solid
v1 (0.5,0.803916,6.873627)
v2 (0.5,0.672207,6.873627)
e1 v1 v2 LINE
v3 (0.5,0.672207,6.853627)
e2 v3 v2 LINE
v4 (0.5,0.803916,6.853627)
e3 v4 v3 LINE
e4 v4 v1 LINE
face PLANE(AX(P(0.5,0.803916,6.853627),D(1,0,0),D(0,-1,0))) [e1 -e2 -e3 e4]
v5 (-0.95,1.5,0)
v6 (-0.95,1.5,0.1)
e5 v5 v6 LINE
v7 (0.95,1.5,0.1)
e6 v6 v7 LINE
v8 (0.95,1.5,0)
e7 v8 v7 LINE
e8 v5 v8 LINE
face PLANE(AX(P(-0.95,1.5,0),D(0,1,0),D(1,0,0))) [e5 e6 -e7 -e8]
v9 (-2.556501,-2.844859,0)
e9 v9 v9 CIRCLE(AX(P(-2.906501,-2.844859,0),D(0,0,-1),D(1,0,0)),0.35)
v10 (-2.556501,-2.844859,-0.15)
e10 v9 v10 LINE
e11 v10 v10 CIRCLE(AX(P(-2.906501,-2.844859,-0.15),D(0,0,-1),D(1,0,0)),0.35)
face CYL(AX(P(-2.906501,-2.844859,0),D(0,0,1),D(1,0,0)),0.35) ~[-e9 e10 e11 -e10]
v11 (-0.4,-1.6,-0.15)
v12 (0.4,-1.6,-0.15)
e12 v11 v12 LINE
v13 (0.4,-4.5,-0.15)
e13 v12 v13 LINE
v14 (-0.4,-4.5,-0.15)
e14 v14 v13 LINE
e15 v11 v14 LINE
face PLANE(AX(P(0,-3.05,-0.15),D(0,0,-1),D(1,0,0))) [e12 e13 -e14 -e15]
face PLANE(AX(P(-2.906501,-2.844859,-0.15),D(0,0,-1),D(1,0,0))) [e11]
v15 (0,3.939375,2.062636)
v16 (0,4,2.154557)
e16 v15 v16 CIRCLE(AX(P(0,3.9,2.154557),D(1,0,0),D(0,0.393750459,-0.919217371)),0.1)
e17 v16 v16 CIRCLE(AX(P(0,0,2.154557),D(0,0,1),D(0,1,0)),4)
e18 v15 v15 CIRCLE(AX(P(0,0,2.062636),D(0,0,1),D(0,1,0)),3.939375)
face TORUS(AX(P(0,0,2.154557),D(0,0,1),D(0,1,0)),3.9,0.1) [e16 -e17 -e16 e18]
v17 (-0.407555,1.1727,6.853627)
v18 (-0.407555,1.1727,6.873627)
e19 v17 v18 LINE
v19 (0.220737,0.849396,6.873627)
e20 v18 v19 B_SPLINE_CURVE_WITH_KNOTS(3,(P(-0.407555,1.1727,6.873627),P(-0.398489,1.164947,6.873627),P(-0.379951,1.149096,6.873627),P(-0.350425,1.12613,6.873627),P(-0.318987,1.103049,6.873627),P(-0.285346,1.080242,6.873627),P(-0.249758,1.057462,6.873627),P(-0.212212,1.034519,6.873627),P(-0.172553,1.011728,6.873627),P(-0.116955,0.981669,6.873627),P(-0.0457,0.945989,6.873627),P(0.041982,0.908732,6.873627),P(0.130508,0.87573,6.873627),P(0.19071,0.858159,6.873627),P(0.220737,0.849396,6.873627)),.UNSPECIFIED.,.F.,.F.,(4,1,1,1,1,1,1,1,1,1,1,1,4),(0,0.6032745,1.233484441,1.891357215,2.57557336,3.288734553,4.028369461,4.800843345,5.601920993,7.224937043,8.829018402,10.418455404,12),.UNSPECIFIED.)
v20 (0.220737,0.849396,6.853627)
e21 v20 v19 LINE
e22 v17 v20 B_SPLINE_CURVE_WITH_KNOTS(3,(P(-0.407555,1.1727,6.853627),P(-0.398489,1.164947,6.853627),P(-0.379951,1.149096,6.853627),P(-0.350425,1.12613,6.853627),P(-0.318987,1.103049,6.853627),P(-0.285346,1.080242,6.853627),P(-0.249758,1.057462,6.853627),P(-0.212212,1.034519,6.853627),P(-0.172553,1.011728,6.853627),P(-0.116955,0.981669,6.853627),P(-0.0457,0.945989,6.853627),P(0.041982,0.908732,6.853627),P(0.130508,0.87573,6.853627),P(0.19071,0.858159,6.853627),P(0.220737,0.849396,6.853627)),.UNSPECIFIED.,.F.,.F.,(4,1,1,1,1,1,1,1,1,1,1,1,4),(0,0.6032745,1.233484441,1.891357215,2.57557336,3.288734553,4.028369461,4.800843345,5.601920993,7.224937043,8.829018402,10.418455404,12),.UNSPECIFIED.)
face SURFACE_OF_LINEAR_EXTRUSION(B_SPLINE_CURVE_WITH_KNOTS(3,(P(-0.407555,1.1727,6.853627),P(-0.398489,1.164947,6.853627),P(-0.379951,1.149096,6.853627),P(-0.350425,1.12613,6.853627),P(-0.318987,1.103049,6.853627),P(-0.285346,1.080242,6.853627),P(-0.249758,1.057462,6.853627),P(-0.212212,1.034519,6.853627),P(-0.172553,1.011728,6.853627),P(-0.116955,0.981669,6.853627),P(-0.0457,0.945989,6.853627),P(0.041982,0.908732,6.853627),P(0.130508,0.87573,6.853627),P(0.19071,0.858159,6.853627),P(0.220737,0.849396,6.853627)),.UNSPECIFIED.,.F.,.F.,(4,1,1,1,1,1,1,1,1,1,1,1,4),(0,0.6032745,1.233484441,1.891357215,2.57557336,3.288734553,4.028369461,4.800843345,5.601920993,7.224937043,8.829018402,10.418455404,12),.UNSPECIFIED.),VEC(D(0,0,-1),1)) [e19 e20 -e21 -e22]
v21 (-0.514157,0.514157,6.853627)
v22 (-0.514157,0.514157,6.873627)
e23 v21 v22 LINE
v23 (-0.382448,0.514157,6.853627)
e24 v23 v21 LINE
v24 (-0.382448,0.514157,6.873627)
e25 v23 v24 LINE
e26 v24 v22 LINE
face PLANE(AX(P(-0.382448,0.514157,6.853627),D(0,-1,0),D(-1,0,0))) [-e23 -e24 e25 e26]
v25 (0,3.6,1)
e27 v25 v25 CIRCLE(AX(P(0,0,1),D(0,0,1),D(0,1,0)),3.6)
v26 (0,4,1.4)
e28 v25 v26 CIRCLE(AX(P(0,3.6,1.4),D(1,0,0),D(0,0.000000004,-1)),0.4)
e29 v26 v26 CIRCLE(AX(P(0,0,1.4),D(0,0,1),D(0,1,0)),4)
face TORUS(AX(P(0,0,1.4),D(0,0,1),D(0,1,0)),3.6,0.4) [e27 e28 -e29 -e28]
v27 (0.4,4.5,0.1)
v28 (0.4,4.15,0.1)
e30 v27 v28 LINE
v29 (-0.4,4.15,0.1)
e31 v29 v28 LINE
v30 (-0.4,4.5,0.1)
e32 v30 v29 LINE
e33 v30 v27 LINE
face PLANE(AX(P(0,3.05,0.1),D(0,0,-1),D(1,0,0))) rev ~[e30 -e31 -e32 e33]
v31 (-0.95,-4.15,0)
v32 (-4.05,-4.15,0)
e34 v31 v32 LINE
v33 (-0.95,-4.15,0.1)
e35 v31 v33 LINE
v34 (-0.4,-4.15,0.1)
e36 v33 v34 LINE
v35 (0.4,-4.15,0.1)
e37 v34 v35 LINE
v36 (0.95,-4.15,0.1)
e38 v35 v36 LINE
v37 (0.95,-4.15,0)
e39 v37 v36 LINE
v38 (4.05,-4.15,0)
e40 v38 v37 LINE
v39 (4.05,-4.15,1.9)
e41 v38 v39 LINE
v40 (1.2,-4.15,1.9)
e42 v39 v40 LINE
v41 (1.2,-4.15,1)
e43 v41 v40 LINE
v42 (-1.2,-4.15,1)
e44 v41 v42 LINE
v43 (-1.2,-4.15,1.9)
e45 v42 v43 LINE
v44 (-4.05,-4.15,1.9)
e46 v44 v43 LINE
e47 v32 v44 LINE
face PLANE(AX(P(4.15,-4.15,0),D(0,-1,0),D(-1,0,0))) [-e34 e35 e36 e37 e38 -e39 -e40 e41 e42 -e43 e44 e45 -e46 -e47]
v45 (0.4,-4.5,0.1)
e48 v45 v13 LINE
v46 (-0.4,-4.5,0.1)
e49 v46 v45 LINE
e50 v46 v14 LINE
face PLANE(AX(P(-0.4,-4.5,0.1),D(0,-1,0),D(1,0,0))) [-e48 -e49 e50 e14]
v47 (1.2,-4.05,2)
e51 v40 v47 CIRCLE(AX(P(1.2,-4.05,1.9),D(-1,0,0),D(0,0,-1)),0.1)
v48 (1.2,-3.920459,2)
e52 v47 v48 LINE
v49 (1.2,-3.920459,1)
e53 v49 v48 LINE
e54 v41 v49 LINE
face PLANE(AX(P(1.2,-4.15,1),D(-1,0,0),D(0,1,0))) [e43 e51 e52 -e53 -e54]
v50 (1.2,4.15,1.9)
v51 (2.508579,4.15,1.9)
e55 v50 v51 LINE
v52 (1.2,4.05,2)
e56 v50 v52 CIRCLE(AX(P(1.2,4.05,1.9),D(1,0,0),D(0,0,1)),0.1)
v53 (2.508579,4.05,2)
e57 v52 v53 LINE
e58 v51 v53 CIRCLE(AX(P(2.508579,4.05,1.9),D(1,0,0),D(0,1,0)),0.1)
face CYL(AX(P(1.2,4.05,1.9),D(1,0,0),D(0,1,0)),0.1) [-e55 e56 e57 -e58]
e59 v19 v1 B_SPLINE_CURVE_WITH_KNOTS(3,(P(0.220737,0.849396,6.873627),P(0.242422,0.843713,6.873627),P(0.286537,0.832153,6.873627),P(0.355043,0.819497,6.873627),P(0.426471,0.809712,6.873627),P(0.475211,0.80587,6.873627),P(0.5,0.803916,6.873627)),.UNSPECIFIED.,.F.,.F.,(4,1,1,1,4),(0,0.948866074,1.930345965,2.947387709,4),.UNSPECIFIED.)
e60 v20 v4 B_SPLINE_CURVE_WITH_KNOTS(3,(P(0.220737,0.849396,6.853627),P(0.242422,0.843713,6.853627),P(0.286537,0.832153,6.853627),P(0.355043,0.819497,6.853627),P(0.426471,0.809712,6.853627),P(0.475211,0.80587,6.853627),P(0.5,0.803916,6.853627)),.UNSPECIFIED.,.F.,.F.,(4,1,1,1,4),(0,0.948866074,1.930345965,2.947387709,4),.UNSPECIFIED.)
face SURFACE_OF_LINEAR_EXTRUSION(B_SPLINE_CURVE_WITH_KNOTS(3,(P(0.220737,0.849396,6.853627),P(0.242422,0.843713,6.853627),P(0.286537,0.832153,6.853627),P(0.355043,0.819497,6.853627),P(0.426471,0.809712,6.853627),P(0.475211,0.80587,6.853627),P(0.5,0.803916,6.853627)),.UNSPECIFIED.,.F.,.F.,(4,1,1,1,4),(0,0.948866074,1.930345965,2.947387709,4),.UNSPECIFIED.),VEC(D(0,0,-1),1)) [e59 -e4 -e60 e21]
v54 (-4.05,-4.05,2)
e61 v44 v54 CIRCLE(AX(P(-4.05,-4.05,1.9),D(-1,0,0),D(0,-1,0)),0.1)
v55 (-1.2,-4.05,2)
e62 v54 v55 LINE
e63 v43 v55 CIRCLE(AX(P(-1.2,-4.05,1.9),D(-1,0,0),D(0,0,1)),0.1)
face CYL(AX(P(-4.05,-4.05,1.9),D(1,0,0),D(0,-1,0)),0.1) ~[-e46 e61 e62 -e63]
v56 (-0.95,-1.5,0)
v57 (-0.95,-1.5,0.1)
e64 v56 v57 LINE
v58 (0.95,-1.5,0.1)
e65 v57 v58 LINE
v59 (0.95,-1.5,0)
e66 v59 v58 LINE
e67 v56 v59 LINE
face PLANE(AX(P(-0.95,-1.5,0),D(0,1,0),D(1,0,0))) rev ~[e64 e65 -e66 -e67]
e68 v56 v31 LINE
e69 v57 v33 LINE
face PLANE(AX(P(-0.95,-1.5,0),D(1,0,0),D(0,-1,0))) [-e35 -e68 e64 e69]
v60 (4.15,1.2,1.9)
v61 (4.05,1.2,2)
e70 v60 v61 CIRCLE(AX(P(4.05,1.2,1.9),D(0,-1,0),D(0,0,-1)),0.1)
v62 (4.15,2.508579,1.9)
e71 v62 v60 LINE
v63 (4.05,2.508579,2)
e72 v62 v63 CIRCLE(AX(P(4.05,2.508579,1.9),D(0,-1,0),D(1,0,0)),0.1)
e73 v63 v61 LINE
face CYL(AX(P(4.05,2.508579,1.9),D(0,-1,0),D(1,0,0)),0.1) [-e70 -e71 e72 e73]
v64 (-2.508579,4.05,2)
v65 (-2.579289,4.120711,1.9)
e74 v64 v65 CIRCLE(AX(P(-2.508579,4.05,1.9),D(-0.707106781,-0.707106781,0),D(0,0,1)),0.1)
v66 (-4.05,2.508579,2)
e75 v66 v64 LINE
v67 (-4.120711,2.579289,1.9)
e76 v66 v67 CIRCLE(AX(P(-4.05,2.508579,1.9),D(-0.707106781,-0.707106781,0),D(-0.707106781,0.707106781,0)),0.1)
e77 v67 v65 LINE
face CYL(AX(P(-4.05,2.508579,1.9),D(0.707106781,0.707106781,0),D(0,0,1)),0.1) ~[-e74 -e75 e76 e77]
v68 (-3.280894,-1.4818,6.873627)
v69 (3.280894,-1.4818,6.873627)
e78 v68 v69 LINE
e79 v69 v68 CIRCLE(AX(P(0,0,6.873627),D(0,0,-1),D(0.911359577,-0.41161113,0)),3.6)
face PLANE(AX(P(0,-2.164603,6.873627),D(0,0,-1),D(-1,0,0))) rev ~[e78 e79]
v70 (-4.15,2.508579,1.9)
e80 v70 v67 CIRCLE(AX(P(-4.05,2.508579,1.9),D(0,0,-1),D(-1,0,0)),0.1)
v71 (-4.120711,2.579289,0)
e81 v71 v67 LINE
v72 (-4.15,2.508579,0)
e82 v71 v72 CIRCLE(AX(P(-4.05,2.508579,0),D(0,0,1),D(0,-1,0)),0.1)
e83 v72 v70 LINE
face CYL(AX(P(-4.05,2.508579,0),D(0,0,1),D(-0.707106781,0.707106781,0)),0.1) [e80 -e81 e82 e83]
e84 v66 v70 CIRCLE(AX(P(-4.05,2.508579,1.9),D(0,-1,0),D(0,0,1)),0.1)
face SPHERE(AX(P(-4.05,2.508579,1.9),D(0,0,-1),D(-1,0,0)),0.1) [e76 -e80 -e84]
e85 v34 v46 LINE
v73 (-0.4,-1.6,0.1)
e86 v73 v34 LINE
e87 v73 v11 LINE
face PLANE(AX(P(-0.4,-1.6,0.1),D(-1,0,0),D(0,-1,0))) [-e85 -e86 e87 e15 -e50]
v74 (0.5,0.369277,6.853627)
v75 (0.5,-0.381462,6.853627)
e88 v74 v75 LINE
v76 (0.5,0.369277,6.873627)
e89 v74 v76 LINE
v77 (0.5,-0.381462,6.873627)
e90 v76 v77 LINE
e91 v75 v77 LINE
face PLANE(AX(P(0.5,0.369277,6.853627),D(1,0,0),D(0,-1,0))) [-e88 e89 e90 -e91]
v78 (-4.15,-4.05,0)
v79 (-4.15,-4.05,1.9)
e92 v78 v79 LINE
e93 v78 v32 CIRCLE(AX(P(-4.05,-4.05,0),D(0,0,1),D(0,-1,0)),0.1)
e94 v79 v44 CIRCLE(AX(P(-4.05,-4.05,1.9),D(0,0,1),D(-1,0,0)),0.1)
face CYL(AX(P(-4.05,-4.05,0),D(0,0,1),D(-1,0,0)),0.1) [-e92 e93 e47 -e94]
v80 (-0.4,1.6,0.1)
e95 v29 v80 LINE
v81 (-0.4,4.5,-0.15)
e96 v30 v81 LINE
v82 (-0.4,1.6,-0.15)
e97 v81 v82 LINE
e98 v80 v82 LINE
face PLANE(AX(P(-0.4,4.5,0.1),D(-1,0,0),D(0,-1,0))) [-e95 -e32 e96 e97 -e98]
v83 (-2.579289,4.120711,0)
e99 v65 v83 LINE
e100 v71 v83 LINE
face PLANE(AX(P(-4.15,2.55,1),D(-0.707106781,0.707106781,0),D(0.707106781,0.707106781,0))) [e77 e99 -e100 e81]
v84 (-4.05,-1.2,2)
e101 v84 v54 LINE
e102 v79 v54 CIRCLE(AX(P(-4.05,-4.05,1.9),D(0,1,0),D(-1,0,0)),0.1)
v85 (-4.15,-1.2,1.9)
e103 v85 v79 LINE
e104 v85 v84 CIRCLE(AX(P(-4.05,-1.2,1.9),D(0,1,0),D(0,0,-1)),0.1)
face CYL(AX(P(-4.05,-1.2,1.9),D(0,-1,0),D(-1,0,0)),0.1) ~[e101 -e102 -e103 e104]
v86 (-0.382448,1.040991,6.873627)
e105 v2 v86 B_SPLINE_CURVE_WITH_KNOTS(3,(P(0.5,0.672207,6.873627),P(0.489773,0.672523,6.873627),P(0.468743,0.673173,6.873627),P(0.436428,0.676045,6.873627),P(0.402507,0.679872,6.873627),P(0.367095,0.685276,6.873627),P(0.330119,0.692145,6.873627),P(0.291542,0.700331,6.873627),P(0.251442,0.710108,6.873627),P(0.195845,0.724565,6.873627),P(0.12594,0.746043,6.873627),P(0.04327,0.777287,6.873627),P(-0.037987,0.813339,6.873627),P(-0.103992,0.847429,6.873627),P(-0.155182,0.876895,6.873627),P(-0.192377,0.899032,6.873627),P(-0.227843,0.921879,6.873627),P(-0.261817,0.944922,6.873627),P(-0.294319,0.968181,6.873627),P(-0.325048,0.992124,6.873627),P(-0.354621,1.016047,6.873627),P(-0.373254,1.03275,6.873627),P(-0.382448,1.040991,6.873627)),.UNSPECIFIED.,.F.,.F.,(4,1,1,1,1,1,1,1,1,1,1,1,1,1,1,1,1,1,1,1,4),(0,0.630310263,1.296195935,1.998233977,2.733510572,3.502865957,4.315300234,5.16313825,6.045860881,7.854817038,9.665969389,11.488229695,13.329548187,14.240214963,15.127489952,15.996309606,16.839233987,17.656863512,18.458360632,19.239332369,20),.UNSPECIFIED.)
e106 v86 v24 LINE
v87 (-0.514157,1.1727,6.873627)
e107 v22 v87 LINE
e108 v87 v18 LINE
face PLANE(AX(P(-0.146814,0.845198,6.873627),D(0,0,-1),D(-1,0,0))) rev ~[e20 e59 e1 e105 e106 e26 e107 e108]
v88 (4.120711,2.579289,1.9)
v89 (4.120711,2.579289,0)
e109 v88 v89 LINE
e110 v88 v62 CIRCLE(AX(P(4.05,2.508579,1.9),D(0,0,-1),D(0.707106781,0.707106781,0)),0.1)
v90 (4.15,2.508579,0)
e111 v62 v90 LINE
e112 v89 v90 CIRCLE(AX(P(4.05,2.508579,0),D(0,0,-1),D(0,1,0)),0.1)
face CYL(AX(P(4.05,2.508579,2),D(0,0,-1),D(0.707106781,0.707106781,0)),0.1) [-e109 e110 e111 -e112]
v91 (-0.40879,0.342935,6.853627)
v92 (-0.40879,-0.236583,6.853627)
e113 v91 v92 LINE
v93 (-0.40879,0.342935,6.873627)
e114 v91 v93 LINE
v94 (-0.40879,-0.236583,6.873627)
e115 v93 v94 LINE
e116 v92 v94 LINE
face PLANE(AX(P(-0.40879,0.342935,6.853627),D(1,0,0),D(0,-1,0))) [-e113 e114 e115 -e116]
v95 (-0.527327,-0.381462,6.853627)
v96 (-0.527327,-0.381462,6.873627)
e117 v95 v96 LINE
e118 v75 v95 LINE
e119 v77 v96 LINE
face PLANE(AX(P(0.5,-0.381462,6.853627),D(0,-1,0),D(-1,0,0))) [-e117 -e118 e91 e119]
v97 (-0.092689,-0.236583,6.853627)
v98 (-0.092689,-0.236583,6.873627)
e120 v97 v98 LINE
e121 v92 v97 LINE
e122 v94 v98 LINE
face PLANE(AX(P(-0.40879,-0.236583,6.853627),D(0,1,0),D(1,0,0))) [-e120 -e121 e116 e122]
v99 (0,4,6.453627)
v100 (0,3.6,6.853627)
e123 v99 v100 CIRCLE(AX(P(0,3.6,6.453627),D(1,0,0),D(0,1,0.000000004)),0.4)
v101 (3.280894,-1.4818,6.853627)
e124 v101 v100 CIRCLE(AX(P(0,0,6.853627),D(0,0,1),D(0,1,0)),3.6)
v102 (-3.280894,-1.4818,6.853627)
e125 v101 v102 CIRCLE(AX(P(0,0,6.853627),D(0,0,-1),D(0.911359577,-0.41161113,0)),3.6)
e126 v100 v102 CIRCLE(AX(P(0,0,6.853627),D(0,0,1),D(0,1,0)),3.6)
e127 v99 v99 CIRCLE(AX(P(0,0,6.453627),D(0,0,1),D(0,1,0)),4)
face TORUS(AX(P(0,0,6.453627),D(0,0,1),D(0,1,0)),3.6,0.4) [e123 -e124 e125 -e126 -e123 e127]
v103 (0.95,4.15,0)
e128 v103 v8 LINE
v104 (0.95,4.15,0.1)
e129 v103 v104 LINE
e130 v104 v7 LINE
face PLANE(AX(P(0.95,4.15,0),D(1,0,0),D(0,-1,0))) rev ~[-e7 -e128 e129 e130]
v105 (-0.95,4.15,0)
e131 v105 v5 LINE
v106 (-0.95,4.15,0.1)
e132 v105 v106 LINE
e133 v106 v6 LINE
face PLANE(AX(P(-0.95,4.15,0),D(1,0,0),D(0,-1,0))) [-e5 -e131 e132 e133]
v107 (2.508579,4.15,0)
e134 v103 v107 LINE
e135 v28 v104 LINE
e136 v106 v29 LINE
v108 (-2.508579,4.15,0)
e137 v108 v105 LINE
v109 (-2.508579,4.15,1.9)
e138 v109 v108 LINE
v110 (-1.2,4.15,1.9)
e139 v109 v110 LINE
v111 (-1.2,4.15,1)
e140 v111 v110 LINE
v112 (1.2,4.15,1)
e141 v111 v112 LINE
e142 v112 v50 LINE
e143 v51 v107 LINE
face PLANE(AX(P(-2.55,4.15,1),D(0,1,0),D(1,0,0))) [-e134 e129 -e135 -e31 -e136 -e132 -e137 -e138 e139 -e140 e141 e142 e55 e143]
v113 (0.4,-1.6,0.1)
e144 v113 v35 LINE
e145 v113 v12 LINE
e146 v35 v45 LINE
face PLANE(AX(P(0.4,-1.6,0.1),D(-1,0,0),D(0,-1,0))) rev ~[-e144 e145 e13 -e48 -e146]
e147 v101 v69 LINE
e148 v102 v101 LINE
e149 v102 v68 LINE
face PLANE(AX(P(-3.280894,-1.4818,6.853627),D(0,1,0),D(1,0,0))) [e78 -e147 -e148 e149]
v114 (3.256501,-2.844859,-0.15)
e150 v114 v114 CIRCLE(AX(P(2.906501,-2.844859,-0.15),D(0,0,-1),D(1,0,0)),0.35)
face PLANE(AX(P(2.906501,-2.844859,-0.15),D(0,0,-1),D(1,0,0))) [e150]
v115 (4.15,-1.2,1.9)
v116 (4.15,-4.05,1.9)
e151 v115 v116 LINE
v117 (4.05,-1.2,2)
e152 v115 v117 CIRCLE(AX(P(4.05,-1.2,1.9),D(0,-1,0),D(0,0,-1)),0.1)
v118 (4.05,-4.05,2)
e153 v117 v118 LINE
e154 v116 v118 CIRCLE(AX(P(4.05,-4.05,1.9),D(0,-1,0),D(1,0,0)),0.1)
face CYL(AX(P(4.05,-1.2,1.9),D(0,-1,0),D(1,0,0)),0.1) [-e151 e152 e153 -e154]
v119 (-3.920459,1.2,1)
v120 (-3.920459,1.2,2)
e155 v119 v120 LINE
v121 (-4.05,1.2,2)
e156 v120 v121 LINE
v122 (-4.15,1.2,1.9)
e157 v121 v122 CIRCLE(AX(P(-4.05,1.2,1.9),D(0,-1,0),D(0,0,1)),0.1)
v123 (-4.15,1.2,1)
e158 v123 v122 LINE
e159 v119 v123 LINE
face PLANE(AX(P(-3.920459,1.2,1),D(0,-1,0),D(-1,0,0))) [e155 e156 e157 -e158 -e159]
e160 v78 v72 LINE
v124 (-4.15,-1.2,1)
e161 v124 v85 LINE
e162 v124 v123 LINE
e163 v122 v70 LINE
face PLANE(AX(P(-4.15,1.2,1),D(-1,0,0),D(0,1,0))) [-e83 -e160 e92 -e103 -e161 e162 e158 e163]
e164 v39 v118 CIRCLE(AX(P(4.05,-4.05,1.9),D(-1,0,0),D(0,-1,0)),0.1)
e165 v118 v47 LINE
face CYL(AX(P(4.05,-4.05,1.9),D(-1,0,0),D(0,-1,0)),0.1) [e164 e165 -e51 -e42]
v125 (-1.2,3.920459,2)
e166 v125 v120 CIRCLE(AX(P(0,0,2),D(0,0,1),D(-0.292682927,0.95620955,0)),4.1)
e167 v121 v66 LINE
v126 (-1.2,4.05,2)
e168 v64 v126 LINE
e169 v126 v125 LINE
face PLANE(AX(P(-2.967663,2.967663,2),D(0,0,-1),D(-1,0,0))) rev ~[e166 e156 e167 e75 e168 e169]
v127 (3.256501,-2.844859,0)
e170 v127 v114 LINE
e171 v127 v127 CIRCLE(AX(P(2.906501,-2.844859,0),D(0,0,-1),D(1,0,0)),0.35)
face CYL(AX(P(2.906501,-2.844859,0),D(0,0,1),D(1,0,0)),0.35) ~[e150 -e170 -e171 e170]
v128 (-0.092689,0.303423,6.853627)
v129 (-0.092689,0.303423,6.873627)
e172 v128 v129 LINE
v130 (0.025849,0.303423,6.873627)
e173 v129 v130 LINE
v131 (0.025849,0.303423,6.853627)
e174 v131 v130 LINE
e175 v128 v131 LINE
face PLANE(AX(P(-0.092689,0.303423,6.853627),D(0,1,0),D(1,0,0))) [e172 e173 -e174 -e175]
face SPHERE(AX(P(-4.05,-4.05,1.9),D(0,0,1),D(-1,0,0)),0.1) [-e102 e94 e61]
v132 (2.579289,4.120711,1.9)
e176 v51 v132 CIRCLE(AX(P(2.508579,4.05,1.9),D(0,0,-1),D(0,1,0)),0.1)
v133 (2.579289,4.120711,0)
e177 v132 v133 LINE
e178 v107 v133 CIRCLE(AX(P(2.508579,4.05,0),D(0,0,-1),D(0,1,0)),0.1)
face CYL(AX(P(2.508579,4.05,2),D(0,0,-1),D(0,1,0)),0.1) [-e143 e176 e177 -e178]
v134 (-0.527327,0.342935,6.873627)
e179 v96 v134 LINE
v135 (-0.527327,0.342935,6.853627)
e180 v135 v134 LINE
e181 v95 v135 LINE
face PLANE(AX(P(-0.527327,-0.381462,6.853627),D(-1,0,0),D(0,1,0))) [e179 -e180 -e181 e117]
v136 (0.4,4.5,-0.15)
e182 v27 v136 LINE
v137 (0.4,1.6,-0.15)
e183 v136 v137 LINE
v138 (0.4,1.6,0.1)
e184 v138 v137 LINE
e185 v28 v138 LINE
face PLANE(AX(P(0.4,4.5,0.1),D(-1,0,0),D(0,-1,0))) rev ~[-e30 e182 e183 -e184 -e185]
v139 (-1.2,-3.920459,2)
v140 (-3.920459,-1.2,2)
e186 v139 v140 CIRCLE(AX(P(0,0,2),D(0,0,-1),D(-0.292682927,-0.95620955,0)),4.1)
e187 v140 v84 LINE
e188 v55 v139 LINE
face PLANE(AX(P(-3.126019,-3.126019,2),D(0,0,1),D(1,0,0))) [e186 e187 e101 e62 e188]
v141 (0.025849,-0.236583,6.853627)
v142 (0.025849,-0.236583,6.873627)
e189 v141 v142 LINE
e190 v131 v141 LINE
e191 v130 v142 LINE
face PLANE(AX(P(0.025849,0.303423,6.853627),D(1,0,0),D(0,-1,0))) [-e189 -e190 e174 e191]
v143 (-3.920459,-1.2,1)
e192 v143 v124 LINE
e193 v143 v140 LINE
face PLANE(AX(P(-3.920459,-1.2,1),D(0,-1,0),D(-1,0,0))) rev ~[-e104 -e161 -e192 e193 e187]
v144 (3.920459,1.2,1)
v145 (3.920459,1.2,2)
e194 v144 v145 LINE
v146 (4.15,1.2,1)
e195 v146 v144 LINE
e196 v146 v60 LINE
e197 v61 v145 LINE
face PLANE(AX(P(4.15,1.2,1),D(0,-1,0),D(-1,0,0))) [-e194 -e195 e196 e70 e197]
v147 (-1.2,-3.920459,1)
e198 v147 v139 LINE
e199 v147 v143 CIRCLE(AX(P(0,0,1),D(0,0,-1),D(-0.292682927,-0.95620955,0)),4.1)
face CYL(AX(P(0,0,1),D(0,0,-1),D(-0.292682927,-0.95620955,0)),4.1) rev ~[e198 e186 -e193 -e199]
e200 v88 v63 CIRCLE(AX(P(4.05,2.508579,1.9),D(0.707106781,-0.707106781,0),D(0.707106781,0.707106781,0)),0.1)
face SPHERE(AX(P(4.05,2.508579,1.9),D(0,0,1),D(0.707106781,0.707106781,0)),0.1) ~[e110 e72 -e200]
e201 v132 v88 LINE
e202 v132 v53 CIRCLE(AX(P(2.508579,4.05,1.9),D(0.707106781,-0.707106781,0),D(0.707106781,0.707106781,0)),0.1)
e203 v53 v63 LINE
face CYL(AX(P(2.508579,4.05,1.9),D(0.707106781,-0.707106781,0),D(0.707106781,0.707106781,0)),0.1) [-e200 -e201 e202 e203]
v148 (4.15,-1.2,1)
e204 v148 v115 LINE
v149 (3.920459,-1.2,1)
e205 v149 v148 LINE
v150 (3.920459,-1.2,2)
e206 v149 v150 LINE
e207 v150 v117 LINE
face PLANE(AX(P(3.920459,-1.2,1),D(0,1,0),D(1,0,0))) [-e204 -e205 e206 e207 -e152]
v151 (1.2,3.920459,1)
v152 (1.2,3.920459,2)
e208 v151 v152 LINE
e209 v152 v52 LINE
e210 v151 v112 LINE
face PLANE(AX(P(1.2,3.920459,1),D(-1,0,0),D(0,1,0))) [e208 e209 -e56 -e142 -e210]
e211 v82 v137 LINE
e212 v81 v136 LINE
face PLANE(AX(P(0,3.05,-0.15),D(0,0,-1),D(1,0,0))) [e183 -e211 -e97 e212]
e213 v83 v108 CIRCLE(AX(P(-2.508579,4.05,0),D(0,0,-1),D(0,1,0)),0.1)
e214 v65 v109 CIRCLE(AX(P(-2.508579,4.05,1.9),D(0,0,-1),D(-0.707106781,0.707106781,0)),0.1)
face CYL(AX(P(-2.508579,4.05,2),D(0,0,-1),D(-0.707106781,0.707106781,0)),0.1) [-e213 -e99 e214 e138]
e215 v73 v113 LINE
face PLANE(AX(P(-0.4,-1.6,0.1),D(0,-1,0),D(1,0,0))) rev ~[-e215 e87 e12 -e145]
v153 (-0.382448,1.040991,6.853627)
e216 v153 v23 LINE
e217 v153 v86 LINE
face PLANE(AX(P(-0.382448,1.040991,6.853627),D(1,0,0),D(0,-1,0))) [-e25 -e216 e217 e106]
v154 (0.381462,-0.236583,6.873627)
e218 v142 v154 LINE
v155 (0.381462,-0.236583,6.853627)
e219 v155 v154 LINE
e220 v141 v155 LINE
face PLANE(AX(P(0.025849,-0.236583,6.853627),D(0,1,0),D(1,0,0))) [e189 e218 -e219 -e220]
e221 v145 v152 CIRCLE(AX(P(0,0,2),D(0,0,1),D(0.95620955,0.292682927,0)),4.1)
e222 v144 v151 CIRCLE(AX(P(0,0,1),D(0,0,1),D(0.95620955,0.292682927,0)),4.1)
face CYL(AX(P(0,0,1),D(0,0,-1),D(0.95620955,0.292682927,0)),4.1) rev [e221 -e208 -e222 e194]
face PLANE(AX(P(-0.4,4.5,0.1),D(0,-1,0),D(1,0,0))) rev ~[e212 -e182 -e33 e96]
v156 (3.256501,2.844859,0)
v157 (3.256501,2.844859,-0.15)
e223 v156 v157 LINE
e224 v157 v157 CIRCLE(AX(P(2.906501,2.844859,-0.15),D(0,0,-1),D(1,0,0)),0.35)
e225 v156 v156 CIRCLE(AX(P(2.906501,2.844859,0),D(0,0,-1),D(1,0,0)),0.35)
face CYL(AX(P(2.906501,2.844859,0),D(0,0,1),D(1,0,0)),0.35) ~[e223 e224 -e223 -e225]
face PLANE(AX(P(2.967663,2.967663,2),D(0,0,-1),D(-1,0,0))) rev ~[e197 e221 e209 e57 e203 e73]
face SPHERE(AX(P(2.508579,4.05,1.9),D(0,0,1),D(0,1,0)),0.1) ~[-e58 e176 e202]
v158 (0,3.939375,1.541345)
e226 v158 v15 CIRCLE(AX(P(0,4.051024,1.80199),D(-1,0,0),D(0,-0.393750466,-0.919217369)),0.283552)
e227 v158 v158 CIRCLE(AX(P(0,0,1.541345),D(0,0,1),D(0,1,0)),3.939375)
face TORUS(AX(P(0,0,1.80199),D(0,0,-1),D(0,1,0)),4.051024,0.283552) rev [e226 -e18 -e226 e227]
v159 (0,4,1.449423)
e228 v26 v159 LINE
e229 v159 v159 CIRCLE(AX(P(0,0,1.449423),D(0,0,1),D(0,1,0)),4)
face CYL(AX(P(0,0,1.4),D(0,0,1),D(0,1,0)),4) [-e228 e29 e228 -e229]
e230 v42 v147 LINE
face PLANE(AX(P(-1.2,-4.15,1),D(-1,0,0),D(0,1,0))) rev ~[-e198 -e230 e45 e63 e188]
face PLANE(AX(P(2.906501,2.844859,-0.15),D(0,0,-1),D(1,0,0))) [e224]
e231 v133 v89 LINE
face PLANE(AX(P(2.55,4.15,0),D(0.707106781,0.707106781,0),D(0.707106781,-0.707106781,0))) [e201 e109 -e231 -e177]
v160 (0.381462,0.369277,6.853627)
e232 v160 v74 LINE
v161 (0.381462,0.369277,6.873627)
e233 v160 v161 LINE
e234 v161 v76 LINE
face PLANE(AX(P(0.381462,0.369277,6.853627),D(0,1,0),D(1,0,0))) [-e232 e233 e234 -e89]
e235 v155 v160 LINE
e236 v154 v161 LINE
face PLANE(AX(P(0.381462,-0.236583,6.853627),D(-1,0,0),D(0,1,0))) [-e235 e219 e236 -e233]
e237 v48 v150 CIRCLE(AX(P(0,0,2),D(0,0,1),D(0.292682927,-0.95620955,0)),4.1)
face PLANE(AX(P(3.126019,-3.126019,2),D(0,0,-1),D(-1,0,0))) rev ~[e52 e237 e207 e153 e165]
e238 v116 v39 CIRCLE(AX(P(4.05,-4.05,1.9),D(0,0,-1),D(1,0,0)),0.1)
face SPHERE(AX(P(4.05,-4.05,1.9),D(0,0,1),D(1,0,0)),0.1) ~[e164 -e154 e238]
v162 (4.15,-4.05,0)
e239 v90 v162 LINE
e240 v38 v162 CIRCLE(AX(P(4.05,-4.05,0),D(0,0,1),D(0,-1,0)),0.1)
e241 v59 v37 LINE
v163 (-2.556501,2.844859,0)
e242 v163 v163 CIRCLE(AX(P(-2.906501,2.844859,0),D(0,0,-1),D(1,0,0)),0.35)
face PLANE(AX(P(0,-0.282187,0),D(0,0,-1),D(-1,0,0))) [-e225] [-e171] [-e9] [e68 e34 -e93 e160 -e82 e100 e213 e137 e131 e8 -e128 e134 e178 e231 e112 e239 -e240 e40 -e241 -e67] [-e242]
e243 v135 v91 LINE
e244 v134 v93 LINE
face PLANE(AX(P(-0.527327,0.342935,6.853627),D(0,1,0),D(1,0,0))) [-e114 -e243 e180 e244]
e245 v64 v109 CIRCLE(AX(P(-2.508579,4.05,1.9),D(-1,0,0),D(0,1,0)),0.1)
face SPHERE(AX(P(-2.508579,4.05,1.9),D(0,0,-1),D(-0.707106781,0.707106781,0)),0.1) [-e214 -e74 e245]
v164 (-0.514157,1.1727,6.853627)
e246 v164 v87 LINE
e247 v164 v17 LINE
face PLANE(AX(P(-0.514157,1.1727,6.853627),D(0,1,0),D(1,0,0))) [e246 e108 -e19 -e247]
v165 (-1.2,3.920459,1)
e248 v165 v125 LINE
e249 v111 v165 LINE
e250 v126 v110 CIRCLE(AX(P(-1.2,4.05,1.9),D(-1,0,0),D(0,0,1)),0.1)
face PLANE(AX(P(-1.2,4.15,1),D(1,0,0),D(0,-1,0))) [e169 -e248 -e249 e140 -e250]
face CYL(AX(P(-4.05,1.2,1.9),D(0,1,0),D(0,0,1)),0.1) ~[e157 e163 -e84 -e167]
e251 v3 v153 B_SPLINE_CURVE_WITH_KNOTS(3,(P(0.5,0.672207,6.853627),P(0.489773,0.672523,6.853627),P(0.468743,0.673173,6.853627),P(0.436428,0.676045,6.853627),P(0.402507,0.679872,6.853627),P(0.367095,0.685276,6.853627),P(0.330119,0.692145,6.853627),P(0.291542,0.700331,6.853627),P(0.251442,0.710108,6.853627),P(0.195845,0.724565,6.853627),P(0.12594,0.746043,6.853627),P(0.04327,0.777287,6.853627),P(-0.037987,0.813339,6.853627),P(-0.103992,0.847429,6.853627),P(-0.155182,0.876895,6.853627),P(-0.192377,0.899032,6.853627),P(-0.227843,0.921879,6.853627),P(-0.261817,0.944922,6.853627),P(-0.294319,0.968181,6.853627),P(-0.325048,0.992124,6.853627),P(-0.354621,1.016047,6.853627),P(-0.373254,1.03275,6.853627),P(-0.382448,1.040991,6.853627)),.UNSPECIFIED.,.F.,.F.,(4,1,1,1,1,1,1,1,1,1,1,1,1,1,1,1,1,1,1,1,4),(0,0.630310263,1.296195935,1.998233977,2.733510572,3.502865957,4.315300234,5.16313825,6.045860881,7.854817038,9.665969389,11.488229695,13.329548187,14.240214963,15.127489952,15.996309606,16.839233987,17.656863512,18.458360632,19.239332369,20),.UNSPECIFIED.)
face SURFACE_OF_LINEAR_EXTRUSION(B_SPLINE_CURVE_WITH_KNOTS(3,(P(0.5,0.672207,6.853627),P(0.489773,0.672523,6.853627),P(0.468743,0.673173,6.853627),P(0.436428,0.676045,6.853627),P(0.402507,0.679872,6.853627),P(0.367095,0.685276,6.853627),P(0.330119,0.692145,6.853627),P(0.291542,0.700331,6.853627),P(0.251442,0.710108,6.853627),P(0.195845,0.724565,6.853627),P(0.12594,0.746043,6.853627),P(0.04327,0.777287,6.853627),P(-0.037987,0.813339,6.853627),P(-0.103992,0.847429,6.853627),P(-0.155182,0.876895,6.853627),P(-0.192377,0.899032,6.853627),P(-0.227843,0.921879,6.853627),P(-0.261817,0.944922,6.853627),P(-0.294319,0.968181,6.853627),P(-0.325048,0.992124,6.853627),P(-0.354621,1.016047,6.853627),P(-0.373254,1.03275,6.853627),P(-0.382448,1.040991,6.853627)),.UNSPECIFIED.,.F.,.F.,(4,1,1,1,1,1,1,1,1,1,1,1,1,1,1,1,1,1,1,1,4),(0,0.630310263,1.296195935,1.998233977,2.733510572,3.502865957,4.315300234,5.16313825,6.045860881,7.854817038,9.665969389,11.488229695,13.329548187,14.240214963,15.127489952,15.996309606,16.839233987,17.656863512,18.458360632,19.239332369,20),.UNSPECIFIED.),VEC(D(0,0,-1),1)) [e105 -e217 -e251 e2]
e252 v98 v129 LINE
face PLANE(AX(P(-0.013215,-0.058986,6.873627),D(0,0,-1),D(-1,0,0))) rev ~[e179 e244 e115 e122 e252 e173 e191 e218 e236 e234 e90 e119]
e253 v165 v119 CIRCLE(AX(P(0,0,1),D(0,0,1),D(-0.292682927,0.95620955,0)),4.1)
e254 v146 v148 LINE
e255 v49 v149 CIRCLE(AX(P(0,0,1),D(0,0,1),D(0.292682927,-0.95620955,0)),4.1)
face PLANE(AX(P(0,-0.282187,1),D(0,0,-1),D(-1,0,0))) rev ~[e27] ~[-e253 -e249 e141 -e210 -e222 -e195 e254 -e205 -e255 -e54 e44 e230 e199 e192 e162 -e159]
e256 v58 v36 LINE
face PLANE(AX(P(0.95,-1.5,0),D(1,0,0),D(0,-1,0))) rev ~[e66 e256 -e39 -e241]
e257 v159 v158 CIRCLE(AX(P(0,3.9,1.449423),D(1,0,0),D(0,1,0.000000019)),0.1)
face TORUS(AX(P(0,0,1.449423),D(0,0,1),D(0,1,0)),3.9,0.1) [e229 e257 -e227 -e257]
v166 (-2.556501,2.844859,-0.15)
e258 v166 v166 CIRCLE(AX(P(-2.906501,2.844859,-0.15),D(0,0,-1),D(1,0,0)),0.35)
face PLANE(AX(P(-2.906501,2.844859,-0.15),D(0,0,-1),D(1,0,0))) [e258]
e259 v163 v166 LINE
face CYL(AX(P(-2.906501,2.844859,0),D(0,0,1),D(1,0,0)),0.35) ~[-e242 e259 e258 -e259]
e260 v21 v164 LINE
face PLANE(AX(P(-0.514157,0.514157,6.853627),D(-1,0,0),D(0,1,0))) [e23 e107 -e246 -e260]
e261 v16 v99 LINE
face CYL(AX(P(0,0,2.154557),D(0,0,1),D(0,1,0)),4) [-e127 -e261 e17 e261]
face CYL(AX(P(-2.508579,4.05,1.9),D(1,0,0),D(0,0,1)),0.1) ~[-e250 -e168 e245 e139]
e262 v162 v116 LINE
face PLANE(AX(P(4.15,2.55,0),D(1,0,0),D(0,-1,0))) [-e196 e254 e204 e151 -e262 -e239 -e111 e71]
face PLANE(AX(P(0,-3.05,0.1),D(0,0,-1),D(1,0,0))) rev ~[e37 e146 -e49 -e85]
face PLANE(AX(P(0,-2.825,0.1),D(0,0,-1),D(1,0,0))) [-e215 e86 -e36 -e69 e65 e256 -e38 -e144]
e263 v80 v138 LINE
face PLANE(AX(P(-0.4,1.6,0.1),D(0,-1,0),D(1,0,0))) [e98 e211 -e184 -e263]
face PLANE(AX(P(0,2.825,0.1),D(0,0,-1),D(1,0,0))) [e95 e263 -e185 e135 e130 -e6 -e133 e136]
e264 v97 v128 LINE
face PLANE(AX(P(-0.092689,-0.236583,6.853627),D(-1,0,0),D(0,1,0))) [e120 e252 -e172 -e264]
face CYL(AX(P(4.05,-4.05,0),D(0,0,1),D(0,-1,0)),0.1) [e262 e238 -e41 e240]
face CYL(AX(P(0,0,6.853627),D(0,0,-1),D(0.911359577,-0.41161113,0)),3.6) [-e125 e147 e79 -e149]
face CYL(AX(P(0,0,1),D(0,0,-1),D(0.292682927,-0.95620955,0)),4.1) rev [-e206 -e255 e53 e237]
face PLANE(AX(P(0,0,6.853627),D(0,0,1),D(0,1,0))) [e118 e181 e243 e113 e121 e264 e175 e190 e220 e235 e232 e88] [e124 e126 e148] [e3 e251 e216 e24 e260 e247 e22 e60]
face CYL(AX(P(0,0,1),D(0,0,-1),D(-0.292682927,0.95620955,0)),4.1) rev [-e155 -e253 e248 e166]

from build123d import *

# Parameters (mm, degrees)
BOSS_EXTRUDE1_DEPTH  = 1
BOSS_EXTRUDE2_DEPTH  = 1
SKETCH7_R            = 0.35
SPACER_PAD_DEPTH     = 0.15
SKETCH9_W            = 1.9
SKETCH9_H            = 2.65
CUT_EXTRUDE1_DEPTH   = 0.1
FILLET1_R            = 0.1
FILLET2_R            = 0.1
CATHODE_MARKER_DEPTH = 0.02
TEXT_2_DEPTH         = 0.02
SKETCH19_W           = 0.8
SKETCH19_H           = 2.9
BOSS_EXTRUDE6_DEPTH  = 0.25


with BuildPart() as part:
    # Sketch2 → Boss-Extrude1 (new body)
    with BuildSketch(Plane.XY):
        Polygon((-4.15, 2.55), (-2.55, 4.15), (2.55, 4.15), (4.15, 2.55), (4.15, -4.15), (-4.15, -4.15), align=None)
    extrude(amount=BOSS_EXTRUDE1_DEPTH)

    # Sketch4 → Boss-Extrude2 (add)
    with BuildSketch(Plane.XY.offset(1)):
        with BuildLine():
            Line((-4.15, 2.55), (-2.55, 4.15))
            Line((-2.55, 4.15), (-1.2, 4.15))
            Line((-1.2, 4.15), (-1.2, 3.920459157))
            ThreePointArc((-1.2, 3.920459157), (-2.899137803, 2.899137803), (-3.920459157, 1.2))
            Line((-3.920459157, 1.2), (-4.15, 1.2))
            Line((-4.15, 1.2), (-4.15, 2.55))
        make_face()
        with BuildLine():
            Line((2.55, 4.15), (4.15, 2.55))
            Line((4.15, 2.55), (4.15, 1.2))
            Line((4.15, 1.2), (3.920459157, 1.2))
            ThreePointArc((3.920459157, 1.2), (2.899137803, 2.899137803), (1.2, 3.920459157))
            Line((1.2, 3.920459157), (1.2, 4.15))
            Line((1.2, 4.15), (2.55, 4.15))
        make_face()
        with BuildLine():
            Line((4.15, -1.2), (4.15, -4.15))
            Line((4.15, -4.15), (1.2, -4.15))
            Line((1.2, -4.15), (1.2, -3.920459157))
            ThreePointArc((1.2, -3.920459157), (2.899137803, -2.899137803), (3.920459157, -1.2))
            Line((3.920459157, -1.2), (4.15, -1.2))
        make_face()
        with BuildLine():
            Line((-4.15, -1.2), (-4.15, -4.15))
            Line((-4.15, -4.15), (-1.2, -4.15))
            Line((-1.2, -4.15), (-1.2, -3.920459157))
            ThreePointArc((-1.2, -3.920459157), (-2.899137803, -2.899137803), (-3.920459157, -1.2))
            Line((-3.920459157, -1.2), (-4.15, -1.2))
        make_face()
    extrude(amount=BOSS_EXTRUDE2_DEPTH)

    # Sketch7 → Spacer Pad (add)
    with BuildSketch(Plane(origin=(0, 0, 0), x_dir=(1, 0, 0), z_dir=(0, 0, -1))):
        with Locations((-2.906501466, 2.844859418)):
            Circle(SKETCH7_R)
        with Locations((2.906501466, 2.844859418)):
            Circle(SKETCH7_R)
        with Locations((-2.906501466, -2.844859418)):
            Circle(SKETCH7_R)
        with Locations((2.906501466, -2.844859418)):
            Circle(SKETCH7_R)
    extrude(amount=SPACER_PAD_DEPTH)

    # Sketch9 → Cut-Extrude1 (cut)
    with BuildSketch(Plane(origin=(0, 0, 0), x_dir=(1, 0, 0), z_dir=(0, 0, -1))):
        with Locations((0, 2.825)):
            Rectangle(SKETCH9_W, SKETCH9_H)
        with Locations((0, -2.825)):
            Rectangle(SKETCH9_W, SKETCH9_H)
    extrude(amount=-CUT_EXTRUDE1_DEPTH, mode=Mode.SUBTRACT)

    # Fillet1
    fillet1_edges = [part.edges().sort_by_distance(p)[0] for p in [
        (4.15, -4.15, 1),
        (-4.15, -4.15, 1),
        (-4.15, 2.55, 1),
        (-2.55, 4.15, 1),
        (2.55, 4.15, 1),
        (4.15, 2.55, 1),
    ]]
    fillet(fillet1_edges, radius=FILLET1_R)

    # Sketch10 → Revolve1 (revolve)
    with BuildSketch(Plane(origin=(0, 0, 0), x_dir=(0, 0, -1), z_dir=(1, 0, 0))):
        with BuildLine():
            Line((-6.853626625, 0), (-1, 0))
            Line((-1, 0), (-1, 3.6))
            ThreePointArc((-1, 3.6), (-1.117157288, 3.882842712), (-1.4, 4))
            Line((-1.4, 4), (-1.449422929, 4))
            ThreePointArc((-1.449422929, 4), (-1.504479696, 3.983479053), (-1.541344666, 3.939375046))
            ThreePointArc((-1.541344666, 3.939375046), (-1.801990181, 3.767472047), (-2.062635697, 3.939375046))
            ThreePointArc((-2.062635697, 3.939375046), (-2.099500666, 3.983479053), (-2.154557434, 4))
            Line((-2.154557434, 4), (-6.453626625, 4))
            ThreePointArc((-6.453626625, 4), (-6.736469337, 3.882842712), (-6.853626625, 3.6))
            Line((-6.853626625, 3.6), (-6.853626625, 0))
        make_face()
    revolve(axis=Axis((0, 0, -18.9630778), (0, 0, 1)))

    # Fillet2
    fillet2_edges = [part.edges().sort_by_distance(p)[0] for p in [
        (2.625, -4.15, 2),
        (4.120710678, -4.120710678, 2),
        (4.15, 1.854289322, 2),
        (4.142387953, 2.546846987, 2),
        (1.854289322, 4.15, 2),
        (2.546846987, 4.142387953, 2),
        (-1.854289322, 4.15, 2),
        (-2.546846987, 4.142387953, 2),
        (-3.35, 3.35, 2),
        (-4.142387953, 2.546846987, 2),
        (-4.15, -2.625, 2),
        (-4.120710678, -4.120710678, 2),
        (4.15, -2.625, 2),
        (3.35, 3.35, 2),
        (-4.15, 1.854289322, 2),
        (-2.625, -4.15, 2),
    ]]
    fillet(fillet2_edges, radius=FILLET2_R)

    # Sketch13 → Cathode marker (add)
    with BuildSketch(Plane.XY.offset(6.853626625)):
        with BuildLine():
            Line((-3.280894476, -1.481800067), (3.280894476, -1.481800067))
            ThreePointArc((3.280894476, -1.481800067), (0, -3.6), (-3.280894476, -1.481800067))
        make_face()
    extrude(amount=CATHODE_MARKER_DEPTH)

    # Sketch15 → Text 2 (add)
    with BuildSketch(Plane.XY.offset(6.853626625)):
        Polygon((0.5, -0.381462215), (-0.527327474, -0.381462215), (-0.527327474, 0.342935363), (-0.408789689, 0.342935363), (-0.408789689, -0.236582699), (-0.092688927, -0.236582699), (-0.092688927, 0.303422768), (0.025848858, 0.303422768), (0.025848858, -0.236582699), (0.381462215, -0.236582699), (0.381462215, 0.369277093), (0.5, 0.369277093), align=None)
        with BuildLine():
            Line((-0.382447958, 0.514156609), (-0.514156609, 0.514156609))
            Line((-0.514156609, 0.514156609), (-0.514156609, 1.172699861))
            Line((-0.514156609, 1.172699861), (-0.40755492, 1.172699861))
            add(Edge.make_bspline(
                [(-0.40755492, 1.172699861), (-0.398488677, 1.164947127), (-0.379951395, 1.14909551), (-0.350424936, 1.126130467), (-0.318987397, 1.103049241), (-0.285346017, 1.080241898), (-0.24975787, 1.057461693), (-0.212211651, 1.034519228), (-0.17255254, 1.011727663), (-0.116955171, 0.981669045), (-0.045699914, 0.945988553), (0.041981636, 0.9087322), (0.130508424, 0.875729648), (0.190710422, 0.858159494), (0.220736502, 0.849396283)],
                knots=[0, 0, 0, 0, 0.6032745, 1.233484441, 1.891357215, 2.57557336, 3.288734553, 4.028369461, 4.800843345, 5.601920993, 7.224937043, 8.829018402, 10.418455404, 12, 12, 12, 12], degree=3))
            add(Edge.make_bspline(
                [(0.220736502, 0.849396283), (0.242421638, 0.843713465), (0.286537257, 0.832152502), (0.355043228, 0.819496809), (0.42647102, 0.809712082), (0.475211113, 0.805869799), (0.5, 0.80391564)],
                knots=[0, 0, 0, 0, 0.948866074, 1.930345965, 2.947387709, 4, 4, 4, 4], degree=3))
            Line((0.5, 0.80391564), (0.5, 0.67220699))
            add(Edge.make_bspline(
                [(0.5, 0.67220699), (0.489773475, 0.672522901), (0.46874323, 0.673172553), (0.436428019, 0.676045369), (0.402506992, 0.679871697), (0.36709474, 0.685276058), (0.330119386, 0.692145455), (0.291541741, 0.700331204), (0.251441688, 0.710107529), (0.19584519, 0.724565393), (0.125940112, 0.746043249), (0.043270268, 0.777287108), (-0.037987002, 0.813338585), (-0.103991595, 0.847429493), (-0.155181852, 0.876894883), (-0.192377433, 0.899031609), (-0.227842847, 0.921879171), (-0.261816887, 0.944922195), (-0.294319185, 0.968180532), (-0.325048234, 0.99212388), (-0.354620783, 1.016047349), (-0.373254036, 1.032749917), (-0.382447958, 1.040991211)],
                knots=[0, 0, 0, 0, 0.630310263, 1.296195935, 1.998233977, 2.733510572, 3.502865957, 4.315300234, 5.16313825, 6.045860881, 7.854817038, 9.665969389, 11.488229695, 13.329548187, 14.240214963, 15.127489952, 15.996309606, 16.839233987, 17.656863512, 18.458360632, 19.239332369, 20, 20, 20, 20], degree=3))
            Line((-0.382447958, 1.040991211), (-0.382447958, 0.514156609))
        make_face()
    extrude(amount=TEXT_2_DEPTH)

    # Sketch19 → Boss-Extrude6 (add)
    with BuildSketch(Plane(origin=(0, 0, 0.1), x_dir=(1, 0, 0), z_dir=(0, 0, -1))):
        with Locations((0, 3.05)):
            Rectangle(SKETCH19_W, SKETCH19_H)
        with Locations((0, -3.05)):
            Rectangle(SKETCH19_W, SKETCH19_H)
    extrude(amount=BOSS_EXTRUDE6_DEPTH)


solid = part.part
